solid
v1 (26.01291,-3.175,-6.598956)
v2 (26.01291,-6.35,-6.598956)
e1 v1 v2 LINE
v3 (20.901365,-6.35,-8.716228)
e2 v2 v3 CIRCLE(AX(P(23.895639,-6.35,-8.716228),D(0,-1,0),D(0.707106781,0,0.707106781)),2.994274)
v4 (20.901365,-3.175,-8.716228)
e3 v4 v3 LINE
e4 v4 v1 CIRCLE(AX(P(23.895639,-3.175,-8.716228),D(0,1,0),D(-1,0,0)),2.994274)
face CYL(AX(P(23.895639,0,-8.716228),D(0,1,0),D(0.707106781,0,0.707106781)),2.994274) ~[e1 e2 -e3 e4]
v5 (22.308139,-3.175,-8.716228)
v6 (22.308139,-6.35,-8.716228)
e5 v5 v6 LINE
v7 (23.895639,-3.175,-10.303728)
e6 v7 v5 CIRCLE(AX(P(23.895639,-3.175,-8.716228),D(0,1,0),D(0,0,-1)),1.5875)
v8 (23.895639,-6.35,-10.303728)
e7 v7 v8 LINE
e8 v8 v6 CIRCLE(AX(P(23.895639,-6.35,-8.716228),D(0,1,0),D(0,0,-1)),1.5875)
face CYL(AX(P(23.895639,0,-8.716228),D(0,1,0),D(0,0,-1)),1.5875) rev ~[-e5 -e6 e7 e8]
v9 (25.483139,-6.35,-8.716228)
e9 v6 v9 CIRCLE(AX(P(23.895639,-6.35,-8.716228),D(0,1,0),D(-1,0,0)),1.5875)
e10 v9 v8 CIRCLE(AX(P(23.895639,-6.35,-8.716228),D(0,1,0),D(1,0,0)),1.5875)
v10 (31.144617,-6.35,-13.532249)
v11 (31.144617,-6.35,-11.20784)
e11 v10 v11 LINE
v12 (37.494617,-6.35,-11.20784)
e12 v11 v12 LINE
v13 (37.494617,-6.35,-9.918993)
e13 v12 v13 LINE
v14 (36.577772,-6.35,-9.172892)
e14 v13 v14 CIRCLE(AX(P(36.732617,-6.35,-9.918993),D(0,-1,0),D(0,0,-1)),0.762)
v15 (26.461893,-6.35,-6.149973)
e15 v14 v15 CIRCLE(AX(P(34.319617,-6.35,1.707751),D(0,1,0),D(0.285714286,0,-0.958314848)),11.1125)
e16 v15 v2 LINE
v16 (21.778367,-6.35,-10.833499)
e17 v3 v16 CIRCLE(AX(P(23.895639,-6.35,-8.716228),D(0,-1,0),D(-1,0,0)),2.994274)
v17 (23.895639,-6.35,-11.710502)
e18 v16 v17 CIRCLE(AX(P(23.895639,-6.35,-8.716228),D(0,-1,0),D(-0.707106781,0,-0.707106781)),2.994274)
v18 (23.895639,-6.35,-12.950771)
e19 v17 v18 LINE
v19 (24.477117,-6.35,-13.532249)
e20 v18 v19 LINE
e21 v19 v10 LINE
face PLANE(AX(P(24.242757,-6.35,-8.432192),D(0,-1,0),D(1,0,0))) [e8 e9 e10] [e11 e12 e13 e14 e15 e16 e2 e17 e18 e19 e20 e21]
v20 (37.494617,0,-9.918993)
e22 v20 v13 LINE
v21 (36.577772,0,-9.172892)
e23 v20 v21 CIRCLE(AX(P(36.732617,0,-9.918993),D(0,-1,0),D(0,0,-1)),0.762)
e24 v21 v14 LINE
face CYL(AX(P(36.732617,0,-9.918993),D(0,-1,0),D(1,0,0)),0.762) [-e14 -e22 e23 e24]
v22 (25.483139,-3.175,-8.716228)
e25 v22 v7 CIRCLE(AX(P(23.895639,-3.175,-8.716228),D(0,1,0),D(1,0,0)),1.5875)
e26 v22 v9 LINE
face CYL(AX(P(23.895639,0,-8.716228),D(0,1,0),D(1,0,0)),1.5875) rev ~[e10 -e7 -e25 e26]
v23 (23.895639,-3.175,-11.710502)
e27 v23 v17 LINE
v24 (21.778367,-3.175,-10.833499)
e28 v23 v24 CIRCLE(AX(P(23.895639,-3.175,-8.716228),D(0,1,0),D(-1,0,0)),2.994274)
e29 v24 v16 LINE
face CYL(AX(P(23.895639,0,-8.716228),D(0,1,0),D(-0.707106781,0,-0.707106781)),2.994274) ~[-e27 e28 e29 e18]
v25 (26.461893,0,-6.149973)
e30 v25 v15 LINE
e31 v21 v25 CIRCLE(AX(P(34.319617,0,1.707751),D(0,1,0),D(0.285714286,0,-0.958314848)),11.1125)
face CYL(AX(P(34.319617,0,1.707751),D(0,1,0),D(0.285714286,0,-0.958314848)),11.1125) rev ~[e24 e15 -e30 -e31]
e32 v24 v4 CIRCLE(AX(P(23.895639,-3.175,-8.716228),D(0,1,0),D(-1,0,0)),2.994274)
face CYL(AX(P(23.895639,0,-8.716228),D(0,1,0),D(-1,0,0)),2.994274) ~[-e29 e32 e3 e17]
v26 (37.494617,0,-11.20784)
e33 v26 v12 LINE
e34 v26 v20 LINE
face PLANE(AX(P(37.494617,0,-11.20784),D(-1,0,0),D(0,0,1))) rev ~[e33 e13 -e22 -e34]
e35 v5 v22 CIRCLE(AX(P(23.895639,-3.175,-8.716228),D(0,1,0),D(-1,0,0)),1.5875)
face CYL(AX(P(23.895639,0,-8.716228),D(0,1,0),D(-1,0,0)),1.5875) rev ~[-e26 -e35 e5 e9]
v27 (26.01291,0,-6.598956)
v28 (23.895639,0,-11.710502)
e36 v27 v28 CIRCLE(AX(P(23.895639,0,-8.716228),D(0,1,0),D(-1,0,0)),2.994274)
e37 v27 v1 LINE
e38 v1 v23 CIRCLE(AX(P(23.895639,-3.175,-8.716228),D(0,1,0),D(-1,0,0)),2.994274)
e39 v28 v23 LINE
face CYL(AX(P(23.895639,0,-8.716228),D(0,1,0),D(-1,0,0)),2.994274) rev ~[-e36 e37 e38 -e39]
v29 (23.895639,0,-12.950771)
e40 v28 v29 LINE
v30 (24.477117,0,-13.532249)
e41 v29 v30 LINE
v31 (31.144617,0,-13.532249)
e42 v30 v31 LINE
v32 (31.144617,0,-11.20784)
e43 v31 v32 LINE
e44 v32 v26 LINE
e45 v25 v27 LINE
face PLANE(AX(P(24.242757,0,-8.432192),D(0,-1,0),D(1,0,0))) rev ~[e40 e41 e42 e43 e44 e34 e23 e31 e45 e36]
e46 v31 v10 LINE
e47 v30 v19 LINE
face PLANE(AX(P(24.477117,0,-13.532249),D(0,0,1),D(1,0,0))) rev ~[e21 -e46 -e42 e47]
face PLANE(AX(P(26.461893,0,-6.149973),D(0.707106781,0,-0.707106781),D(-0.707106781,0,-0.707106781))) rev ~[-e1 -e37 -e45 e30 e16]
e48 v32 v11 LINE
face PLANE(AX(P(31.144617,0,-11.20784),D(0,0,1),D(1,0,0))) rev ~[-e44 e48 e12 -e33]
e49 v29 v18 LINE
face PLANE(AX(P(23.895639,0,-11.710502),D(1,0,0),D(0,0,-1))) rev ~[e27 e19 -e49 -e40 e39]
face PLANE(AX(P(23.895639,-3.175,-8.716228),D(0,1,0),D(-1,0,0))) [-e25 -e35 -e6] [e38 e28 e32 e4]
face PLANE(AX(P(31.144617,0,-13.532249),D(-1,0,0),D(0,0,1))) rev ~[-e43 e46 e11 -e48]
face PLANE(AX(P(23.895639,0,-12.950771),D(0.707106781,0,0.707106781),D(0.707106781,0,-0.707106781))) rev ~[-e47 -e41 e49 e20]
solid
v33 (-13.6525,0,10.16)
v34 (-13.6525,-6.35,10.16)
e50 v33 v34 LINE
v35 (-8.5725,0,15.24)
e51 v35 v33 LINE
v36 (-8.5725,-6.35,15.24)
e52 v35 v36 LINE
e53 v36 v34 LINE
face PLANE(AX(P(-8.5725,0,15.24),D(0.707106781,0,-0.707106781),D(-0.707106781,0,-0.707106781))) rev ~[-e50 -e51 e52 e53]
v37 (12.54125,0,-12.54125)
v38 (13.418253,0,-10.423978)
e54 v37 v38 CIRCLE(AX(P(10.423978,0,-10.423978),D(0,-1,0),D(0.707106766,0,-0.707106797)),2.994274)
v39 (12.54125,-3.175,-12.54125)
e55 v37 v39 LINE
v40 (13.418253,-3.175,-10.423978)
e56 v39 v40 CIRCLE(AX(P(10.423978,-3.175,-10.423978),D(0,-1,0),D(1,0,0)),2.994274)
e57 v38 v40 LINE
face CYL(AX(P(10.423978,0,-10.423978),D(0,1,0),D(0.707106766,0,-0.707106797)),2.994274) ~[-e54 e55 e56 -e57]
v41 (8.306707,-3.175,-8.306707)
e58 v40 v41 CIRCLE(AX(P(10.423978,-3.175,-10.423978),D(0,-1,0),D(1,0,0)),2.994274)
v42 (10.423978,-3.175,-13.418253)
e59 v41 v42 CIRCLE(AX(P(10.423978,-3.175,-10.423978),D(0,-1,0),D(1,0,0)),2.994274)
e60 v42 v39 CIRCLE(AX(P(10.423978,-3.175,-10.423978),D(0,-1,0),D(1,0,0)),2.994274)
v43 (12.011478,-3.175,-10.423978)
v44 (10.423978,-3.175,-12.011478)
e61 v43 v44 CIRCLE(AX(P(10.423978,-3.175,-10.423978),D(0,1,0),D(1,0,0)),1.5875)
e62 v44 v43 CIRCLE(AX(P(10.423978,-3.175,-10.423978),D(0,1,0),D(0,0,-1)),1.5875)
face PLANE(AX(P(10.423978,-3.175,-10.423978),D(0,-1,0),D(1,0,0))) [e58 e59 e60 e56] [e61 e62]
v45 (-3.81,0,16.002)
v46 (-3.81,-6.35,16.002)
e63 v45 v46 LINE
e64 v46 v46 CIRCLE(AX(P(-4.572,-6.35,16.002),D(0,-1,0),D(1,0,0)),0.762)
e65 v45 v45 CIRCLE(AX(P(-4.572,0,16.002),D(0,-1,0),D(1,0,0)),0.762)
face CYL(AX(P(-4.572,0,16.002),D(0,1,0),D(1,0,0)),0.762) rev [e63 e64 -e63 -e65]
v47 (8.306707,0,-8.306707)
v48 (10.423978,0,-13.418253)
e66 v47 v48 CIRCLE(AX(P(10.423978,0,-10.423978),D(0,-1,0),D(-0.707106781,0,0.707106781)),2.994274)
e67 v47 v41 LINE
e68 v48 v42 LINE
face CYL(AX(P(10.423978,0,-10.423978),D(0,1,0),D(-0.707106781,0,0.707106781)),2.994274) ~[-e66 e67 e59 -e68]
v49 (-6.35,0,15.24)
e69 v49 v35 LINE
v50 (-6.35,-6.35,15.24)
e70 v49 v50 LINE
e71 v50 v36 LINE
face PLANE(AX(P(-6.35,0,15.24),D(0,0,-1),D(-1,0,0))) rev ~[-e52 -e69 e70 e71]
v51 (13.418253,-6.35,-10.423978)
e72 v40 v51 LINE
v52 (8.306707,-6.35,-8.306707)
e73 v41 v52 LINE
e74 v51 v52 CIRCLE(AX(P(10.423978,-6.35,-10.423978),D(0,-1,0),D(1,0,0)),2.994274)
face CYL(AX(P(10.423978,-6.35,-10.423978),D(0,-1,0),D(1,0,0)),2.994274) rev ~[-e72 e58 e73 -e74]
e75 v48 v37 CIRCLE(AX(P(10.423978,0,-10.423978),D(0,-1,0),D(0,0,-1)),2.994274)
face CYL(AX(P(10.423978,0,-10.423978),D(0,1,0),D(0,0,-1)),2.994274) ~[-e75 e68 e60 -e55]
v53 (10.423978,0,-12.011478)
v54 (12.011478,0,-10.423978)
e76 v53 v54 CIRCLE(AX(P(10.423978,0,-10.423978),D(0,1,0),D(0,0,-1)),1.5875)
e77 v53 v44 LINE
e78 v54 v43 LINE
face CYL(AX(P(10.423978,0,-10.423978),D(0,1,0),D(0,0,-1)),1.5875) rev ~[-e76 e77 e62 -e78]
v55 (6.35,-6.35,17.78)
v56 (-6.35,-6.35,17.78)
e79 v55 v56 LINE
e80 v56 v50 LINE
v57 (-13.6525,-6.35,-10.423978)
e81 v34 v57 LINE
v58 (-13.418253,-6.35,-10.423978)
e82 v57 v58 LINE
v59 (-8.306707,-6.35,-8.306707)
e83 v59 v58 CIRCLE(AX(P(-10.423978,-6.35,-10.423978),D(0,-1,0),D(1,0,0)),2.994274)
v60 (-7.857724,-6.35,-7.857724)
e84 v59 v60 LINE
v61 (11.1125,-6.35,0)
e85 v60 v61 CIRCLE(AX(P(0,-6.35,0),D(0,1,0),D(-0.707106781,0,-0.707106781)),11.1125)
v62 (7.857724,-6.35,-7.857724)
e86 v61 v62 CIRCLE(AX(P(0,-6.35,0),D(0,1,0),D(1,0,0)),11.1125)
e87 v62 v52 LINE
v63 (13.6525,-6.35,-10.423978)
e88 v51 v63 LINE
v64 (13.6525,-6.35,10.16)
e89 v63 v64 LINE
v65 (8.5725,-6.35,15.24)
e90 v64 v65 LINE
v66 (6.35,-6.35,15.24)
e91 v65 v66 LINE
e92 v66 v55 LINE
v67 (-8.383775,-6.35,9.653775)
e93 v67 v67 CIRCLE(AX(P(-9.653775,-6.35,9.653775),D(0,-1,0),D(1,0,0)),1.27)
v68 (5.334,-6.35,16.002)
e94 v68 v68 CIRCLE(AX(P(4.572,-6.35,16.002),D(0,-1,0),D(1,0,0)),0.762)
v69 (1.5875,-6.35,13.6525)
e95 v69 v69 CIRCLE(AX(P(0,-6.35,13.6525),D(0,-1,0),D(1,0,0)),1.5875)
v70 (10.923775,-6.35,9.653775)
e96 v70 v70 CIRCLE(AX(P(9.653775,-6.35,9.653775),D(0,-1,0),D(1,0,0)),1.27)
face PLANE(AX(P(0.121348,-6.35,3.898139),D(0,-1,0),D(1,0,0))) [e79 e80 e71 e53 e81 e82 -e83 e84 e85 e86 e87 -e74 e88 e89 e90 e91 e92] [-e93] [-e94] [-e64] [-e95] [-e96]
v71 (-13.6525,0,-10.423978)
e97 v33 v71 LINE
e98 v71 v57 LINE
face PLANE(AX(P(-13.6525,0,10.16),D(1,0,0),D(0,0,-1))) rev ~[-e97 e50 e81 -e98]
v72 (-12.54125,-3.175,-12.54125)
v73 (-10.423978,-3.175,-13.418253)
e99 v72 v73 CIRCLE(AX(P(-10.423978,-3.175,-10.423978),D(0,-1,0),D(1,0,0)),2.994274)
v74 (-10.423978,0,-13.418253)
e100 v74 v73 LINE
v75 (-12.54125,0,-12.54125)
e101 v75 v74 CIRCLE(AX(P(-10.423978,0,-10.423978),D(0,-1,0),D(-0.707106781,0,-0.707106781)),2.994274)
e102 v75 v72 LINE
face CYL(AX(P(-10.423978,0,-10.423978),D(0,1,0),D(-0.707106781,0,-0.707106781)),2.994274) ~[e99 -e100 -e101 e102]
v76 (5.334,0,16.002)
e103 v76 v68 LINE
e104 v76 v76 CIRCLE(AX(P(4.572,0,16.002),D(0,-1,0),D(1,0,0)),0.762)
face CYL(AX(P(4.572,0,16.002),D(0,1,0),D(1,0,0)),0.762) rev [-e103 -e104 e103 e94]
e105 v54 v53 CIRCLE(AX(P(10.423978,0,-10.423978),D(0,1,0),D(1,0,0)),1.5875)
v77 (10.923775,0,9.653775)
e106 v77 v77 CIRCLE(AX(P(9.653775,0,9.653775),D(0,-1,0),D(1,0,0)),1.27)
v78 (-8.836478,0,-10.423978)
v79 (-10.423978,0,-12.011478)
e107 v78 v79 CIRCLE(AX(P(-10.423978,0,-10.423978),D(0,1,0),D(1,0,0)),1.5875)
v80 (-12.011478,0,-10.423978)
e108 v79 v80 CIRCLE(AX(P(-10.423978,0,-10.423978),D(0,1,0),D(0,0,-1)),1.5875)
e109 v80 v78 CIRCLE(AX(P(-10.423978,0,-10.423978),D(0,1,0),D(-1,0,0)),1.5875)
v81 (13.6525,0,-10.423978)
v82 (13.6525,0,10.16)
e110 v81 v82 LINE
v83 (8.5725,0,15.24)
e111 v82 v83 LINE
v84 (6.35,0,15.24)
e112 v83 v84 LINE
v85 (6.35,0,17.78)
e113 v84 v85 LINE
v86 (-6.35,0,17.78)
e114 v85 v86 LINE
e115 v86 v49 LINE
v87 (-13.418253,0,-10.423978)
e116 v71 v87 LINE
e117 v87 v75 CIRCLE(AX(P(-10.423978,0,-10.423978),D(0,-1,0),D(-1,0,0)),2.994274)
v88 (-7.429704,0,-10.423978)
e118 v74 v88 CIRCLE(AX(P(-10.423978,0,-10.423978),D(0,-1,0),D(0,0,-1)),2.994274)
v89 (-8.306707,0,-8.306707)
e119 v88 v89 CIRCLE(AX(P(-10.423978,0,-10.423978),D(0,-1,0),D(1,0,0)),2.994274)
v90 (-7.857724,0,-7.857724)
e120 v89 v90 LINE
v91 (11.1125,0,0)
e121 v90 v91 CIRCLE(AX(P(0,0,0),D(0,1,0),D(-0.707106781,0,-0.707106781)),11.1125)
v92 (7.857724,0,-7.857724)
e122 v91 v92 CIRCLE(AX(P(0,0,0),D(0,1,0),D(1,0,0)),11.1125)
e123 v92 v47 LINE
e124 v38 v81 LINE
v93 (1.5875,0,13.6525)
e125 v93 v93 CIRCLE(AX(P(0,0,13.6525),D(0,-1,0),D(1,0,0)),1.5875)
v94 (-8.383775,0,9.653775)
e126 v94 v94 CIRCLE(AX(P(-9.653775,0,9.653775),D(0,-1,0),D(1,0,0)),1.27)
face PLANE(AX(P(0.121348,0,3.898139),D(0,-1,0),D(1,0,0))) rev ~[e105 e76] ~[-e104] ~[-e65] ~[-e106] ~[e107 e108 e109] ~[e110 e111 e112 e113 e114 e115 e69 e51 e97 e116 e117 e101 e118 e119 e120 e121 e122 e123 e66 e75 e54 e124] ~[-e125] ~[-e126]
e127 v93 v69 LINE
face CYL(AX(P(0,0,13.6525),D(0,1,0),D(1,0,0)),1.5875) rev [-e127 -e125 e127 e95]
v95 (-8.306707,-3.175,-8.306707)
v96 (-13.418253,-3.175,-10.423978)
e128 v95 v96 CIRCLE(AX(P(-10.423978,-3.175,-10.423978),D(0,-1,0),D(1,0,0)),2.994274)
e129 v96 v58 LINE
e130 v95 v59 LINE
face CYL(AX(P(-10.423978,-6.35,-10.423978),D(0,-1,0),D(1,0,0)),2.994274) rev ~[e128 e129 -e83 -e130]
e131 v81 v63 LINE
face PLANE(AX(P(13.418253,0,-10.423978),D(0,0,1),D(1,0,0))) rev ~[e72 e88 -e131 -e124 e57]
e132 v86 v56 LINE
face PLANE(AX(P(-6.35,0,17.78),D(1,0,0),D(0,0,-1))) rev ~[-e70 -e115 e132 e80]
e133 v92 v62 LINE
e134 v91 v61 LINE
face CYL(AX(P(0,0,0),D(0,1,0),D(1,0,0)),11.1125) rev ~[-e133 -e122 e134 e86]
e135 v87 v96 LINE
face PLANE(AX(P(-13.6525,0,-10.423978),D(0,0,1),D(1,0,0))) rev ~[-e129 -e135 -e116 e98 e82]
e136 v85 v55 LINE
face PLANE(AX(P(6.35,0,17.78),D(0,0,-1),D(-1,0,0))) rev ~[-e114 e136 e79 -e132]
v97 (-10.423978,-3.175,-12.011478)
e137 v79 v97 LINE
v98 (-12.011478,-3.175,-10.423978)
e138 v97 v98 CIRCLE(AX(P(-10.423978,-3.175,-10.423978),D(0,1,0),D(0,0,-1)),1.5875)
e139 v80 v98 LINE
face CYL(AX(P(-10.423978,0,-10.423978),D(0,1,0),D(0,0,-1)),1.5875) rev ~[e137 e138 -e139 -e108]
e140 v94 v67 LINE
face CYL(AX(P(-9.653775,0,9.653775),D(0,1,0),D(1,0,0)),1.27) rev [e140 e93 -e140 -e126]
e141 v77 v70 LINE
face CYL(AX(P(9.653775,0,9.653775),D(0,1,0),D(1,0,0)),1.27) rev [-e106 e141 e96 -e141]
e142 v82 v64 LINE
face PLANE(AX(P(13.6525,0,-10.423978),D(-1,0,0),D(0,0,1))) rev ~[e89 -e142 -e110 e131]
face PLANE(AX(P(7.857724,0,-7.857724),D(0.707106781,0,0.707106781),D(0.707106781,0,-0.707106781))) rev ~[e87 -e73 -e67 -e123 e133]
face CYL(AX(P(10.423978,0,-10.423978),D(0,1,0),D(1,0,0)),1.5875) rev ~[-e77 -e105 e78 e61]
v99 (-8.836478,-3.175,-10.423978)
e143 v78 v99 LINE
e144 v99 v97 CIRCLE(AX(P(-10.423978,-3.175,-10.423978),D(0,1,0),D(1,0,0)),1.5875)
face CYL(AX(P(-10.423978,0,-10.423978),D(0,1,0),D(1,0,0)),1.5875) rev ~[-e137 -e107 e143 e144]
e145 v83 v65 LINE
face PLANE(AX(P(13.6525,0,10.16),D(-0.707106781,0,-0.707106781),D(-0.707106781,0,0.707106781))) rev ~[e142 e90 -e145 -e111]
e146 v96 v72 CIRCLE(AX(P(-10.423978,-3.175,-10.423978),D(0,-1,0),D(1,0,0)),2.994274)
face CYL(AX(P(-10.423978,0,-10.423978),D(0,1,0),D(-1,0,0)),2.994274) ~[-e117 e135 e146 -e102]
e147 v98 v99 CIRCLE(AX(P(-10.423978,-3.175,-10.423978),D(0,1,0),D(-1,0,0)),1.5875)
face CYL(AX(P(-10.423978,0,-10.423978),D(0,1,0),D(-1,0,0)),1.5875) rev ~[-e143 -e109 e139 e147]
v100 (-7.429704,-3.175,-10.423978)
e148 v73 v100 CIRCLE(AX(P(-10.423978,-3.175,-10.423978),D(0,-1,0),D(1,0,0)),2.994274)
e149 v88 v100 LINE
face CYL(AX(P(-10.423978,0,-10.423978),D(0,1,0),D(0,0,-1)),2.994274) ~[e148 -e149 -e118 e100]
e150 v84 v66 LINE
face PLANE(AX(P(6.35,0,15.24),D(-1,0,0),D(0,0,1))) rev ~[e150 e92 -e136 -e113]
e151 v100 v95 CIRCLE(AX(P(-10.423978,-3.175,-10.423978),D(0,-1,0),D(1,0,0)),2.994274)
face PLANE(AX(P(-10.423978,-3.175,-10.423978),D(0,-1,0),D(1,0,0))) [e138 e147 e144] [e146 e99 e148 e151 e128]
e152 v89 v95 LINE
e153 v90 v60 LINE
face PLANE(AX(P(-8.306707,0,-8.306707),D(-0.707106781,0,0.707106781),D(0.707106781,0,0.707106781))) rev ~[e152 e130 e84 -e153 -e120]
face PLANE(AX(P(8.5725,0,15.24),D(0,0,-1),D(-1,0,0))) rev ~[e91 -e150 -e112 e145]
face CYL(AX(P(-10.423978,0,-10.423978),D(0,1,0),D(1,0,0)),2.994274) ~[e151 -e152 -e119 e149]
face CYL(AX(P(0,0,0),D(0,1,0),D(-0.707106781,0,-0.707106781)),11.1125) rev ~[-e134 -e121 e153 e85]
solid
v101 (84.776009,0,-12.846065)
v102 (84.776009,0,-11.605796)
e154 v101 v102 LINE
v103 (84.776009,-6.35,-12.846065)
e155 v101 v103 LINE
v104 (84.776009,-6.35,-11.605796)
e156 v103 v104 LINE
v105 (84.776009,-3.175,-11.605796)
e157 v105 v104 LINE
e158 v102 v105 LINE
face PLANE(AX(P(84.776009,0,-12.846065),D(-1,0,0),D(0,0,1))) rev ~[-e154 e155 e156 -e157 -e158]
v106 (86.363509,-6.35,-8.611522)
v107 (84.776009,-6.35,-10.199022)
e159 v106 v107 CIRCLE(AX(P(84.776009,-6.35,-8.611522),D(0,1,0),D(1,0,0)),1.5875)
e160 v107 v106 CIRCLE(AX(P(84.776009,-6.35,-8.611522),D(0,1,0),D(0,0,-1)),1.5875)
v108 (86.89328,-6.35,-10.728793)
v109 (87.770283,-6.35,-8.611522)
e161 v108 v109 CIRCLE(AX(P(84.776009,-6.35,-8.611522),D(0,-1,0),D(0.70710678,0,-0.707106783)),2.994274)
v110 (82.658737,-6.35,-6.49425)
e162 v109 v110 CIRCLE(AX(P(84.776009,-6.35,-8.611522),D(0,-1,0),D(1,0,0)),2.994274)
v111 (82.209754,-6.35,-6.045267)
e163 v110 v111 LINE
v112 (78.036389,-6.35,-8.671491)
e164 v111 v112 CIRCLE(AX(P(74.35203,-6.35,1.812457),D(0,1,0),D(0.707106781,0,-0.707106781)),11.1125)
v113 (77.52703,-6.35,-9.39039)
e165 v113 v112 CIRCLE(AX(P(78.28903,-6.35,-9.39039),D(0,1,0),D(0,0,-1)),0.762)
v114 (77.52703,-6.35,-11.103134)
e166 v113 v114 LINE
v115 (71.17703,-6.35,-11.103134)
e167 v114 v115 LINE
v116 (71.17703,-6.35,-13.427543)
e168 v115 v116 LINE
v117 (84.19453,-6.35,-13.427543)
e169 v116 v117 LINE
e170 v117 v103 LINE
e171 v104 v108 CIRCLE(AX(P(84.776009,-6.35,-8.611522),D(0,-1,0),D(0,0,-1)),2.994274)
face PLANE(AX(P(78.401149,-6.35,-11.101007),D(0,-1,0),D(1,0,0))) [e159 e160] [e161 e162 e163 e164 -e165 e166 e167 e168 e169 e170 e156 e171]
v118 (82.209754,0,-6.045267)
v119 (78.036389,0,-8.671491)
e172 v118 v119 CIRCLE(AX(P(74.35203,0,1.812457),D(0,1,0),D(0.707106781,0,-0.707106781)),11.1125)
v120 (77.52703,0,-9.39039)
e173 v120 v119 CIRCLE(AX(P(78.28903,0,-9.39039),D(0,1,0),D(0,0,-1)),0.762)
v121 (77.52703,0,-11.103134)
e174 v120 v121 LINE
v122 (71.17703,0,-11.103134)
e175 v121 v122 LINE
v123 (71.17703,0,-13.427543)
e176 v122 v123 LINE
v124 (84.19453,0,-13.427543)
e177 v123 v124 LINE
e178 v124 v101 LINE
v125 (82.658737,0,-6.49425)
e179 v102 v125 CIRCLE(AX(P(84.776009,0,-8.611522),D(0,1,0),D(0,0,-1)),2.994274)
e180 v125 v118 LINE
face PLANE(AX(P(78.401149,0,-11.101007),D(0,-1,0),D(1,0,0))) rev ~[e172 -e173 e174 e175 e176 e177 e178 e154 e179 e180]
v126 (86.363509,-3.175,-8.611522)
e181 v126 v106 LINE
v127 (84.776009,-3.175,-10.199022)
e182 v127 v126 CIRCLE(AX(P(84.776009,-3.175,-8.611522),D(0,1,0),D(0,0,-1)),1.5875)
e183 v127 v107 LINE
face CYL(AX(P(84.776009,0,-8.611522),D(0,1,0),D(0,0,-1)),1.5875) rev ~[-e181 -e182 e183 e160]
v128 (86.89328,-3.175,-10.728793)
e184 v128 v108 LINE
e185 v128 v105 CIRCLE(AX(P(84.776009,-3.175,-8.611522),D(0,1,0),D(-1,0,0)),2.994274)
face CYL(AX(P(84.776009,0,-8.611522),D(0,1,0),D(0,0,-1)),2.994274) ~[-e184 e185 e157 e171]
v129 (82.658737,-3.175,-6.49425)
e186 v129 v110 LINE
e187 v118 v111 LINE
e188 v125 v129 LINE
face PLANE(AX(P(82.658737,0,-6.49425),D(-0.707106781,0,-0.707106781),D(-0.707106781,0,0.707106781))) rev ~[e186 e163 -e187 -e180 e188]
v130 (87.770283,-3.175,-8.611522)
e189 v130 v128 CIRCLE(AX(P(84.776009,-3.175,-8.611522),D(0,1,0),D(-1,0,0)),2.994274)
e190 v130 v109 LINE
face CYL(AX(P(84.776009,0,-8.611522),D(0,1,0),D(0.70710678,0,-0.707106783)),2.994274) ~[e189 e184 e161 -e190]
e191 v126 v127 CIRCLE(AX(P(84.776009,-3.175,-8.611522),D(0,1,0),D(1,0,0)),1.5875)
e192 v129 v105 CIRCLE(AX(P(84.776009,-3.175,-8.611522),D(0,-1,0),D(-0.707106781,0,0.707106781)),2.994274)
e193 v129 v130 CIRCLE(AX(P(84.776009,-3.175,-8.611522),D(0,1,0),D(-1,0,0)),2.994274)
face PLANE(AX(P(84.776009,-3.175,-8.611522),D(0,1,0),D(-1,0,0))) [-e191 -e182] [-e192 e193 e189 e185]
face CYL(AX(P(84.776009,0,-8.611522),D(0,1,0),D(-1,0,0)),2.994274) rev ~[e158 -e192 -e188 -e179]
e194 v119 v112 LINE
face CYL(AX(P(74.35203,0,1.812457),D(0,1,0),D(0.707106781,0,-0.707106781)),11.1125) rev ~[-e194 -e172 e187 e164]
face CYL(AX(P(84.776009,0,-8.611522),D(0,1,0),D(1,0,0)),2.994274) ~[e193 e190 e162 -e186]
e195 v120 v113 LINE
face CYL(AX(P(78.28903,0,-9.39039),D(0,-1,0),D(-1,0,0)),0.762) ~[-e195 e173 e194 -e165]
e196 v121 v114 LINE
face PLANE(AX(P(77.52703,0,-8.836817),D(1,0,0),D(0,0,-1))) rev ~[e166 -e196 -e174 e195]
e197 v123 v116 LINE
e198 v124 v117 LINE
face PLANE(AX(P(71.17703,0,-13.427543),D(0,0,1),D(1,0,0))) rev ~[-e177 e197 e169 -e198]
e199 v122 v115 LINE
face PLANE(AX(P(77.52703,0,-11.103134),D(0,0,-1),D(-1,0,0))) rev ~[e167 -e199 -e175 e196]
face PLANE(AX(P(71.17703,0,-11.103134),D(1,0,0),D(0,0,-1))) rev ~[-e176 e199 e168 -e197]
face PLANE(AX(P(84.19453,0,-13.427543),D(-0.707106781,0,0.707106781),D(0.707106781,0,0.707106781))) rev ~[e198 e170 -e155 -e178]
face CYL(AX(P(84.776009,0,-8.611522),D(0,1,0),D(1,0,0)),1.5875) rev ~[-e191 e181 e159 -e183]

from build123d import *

# Parameters (mm, degrees)
F0_R      = 1.27
F0_R_2    = 0.762
F0_R_3    = 1.5875
F1_DEPTH  = 6.35
F2_R      = 2.9942741012
F3_DEPTH  = 3.175
F5_DEPTH  = 6.35
F7_DEPTH  = 6.35
F8_R      = 2.9942741012
F9_DEPTH  = 3.175
F10_R     = 2.9942741012
F11_DEPTH = 3.175
F12_R     = 0.762
F13_R     = 0.762


with BuildPart() as f1:
    # F0 (on Front) → F1 (new body)
    with BuildSketch(Plane.XZ):
        with BuildLine():
            ThreePointArc((-7.8577241059, -7.8577241059), (-4.2525696422, 10.266611305), (11.1125, 0))
            ThreePointArc((11.1125, 0), (10.266611305, -4.2525696422), (7.8577241059, -7.8577241059))
            Line((7.8577241059, -7.8577241059), (8.3067069566, -8.3067069566))
            ThreePointArc((8.3067069566, -8.3067069566), (11.5698375688, -7.6576299215), (13.4182525795, -10.4239784783))
            Line((13.4182525795, -10.4239784783), (13.6525, -10.4239784783))
            Line((13.6525, -10.4239784783), (13.6525, 10.16))
            Line((13.6525, 10.16), (8.5725, 15.24))
            Line((8.5725, 15.24), (6.35, 15.24))
            Line((6.35, 15.24), (6.35, 17.78))
            Line((6.35, 17.78), (-6.35, 17.78))
            Line((-6.35, 17.78), (-6.35, 15.24))
            Line((-6.35, 15.24), (-8.5725, 15.24))
            Line((-8.5725, 15.24), (-13.6525, 10.16))
            Line((-13.6525, 10.16), (-13.6525, -10.4239784783))
            Line((-13.6525, -10.4239784783), (-13.4182525795, -10.4239784783))
            ThreePointArc((-13.4182525795, -10.4239784783), (-11.5698375688, -7.6576299215), (-8.3067069566, -8.3067069566))
            Line((-8.3067069566, -8.3067069566), (-7.8577241059, -7.8577241059))
        make_face()
        with Locations((-9.6537753301, 9.6537753301)):
            Circle(F0_R, mode=Mode.SUBTRACT)
        with Locations((-4.572, 16.002)):
            Circle(F0_R_2, mode=Mode.SUBTRACT)
        with Locations((0, 13.6525)):
            Circle(F0_R_3, mode=Mode.SUBTRACT)
        with Locations((4.572, 16.002)):
            Circle(F0_R_2, mode=Mode.SUBTRACT)
        with Locations((9.6537753301, 9.6537753301)):
            Circle(F0_R, mode=Mode.SUBTRACT)
        with BuildLine():
            Line((-12.0114784783, -10.4239784783), (-13.4182525795, -10.4239784783))
            ThreePointArc((-13.4182525795, -10.4239784783), (-13.1903270351, -11.5698375688), (-12.54125, -12.54125))
            ThreePointArc((-12.54125, -12.54125), (-11.5698375688, -13.1903270351), (-10.4239784783, -13.4182525795))
            Line((-10.4239784783, -13.4182525795), (-10.4239784783, -12.0114784783))
            ThreePointArc((-10.4239784783, -12.0114784783), (-11.5465104934, -11.5465104934), (-12.0114784783, -10.4239784783))
        make_face()
        with BuildLine():
            ThreePointArc((-7.4297043771, -10.4239784783), (-7.6576299215, -9.2781193878), (-8.3067069566, -8.3067069566))
            ThreePointArc((-8.3067069566, -8.3067069566), (-11.5698375688, -7.6576299215), (-13.4182525795, -10.4239784783))
            Line((-13.4182525795, -10.4239784783), (-12.0114784783, -10.4239784783))
            ThreePointArc((-12.0114784783, -10.4239784783), (-10.4239784783, -8.8364784783), (-8.8364784783, -10.4239784783))
            ThreePointArc((-8.8364784783, -10.4239784783), (-9.3014464632, -11.5465104934), (-10.4239784783, -12.0114784783))
            Line((-10.4239784783, -12.0114784783), (-10.4239784783, -13.4182525795))
            ThreePointArc((-10.4239784783, -13.4182525795), (-8.3067069566, -12.54125), (-7.4297043771, -10.4239784783))
        make_face()
        with BuildLine():
            ThreePointArc((13.4182525795, -10.4239784783), (11.5698375688, -7.6576299215), (8.3067069566, -8.3067069566))
            ThreePointArc((8.3067069566, -8.3067069566), (7.6576299215, -11.5698375688), (10.4239784783, -13.4182525795))
            Line((10.4239784783, -13.4182525795), (10.4239784783, -12.0114784783))
            ThreePointArc((10.4239784783, -12.0114784783), (9.3014464632, -9.3014464632), (12.0114784783, -10.4239784783))
            Line((12.0114784783, -10.4239784783), (13.4182525795, -10.4239784783))
        make_face()
        with BuildLine():
            ThreePointArc((12.5412499532, -12.5412500468), (13.1903270225, -11.5698375994), (13.4182525795, -10.4239784783))
            Line((13.4182525795, -10.4239784783), (12.0114784783, -10.4239784783))
            ThreePointArc((12.0114784783, -10.4239784783), (11.5465104934, -11.5465104934), (10.4239784783, -12.0114784783))
            Line((10.4239784783, -12.0114784783), (10.4239784783, -13.4182525795))
            ThreePointArc((10.4239784783, -13.4182525795), (11.5698375382, -13.1903270478), (12.5412499532, -12.5412500468))
        make_face()
    extrude(amount=F1_DEPTH)

    # F2 (on face) → F3 (cut)
    with BuildSketch(Plane.XZ.offset(6.35)):
        with Locations((-10.4239784783, -10.4239784783)):
            Circle(F2_R)
        with Locations((10.4239784783, -10.4239784783)):
            Circle(F2_R)
    extrude(amount=-F3_DEPTH, mode=Mode.SUBTRACT)


with BuildPart() as f5:
    # F4 (on Front) → F5 (new body)
    with BuildSketch(Plane.XZ):
        with BuildLine():
            ThreePointArc((26.8899129888, -8.7162277541), (26.6619874445, -7.5703686636), (26.0129104093, -6.5989562324))
            ThreePointArc((26.0129104093, -6.5989562324), (22.7497797971, -5.9498791973), (20.9013647864, -8.7162277541))
            Line((20.9013647864, -8.7162277541), (22.3081388876, -8.7162277541))
            ThreePointArc((22.3081388876, -8.7162277541), (23.8956388876, -7.1287277541), (25.4831388876, -8.7162277541))
            ThreePointArc((25.4831388876, -8.7162277541), (25.0181709028, -9.8387597693), (23.8956388876, -10.3037277541))
            Line((23.8956388876, -10.3037277541), (23.8956388876, -11.7105018553))
            ThreePointArc((23.8956388876, -11.7105018553), (26.0129104093, -10.8334992758), (26.8899129888, -8.7162277541))
        make_face()
        with BuildLine():
            Line((22.3081388876, -8.7162277541), (20.9013647864, -8.7162277541))
            ThreePointArc((20.9013647864, -8.7162277541), (21.1292903308, -9.8620868446), (21.7783673659, -10.8334992758))
            ThreePointArc((21.7783673659, -10.8334992758), (22.7497797971, -11.482576311), (23.8956388876, -11.7105018553))
            Line((23.8956388876, -11.7105018553), (23.8956388876, -10.3037277541))
            ThreePointArc((23.8956388876, -10.3037277541), (22.7731068725, -9.8387597693), (22.3081388876, -8.7162277541))
        make_face()
        with BuildLine():
            ThreePointArc((37.4946173659, -8.9415230187), (31.5937847212, -9.0652475884), (26.46189326, -6.1499733817))
            Line((26.46189326, -6.1499733817), (26.0129104093, -6.5989562324))
            ThreePointArc((26.0129104093, -6.5989562324), (26.6619874445, -7.5703686636), (26.8899129888, -8.7162277541))
            ThreePointArc((26.8899129888, -8.7162277541), (26.0129104093, -10.8334992758), (23.8956388876, -11.7105018553))
            Line((23.8956388876, -11.7105018553), (23.8956388876, -12.9507707975))
            Line((23.8956388876, -12.9507707975), (24.4771173659, -13.5322492758))
            Line((24.4771173659, -13.5322492758), (31.1446173659, -13.5322492758))
            Line((31.1446173659, -13.5322492758), (31.1446173659, -11.2078400538))
            Line((31.1446173659, -11.2078400538), (37.4946173659, -11.2078400538))
            Line((37.4946173659, -11.2078400538), (37.4946173659, -8.9415230187))
        make_face()
    extrude(amount=F5_DEPTH)

    # F8 (on face) → F9 (cut)
    with BuildSketch(Plane(origin=(0, 0, 0), x_dir=(-1, 0, 0), z_dir=(0, 1, 0))):
        with Locations((-23.8956388876, -8.7162277541)):
            Circle(F8_R)
    extrude(amount=-F9_DEPTH, mode=Mode.SUBTRACT)

    # F12
    f12_edges = [f5.edges().sort_by_distance(p)[0] for p in [
        (37.494617, -3.175, -8.941523),
    ]]
    fillet(f12_edges, radius=F12_R)


with BuildPart() as f7:
    # F6 (on Front) → F7 (new body)
    with BuildSketch(Plane.XZ):
        with BuildLine():
            Line((82.6587371794, -6.4942501965), (82.2097543287, -6.0452673458))
            ThreePointArc((82.2097543287, -6.0452673458), (80.0422356359, -7.7326581479), (77.5270302228, -8.8368169827))
            Line((77.5270302228, -8.8368169827), (77.5270302228, -11.1031340179))
            Line((77.5270302228, -11.1031340179), (71.1770302228, -11.1031340179))
            Line((71.1770302228, -11.1031340179), (71.1770302228, -13.4275432399))
            Line((71.1770302228, -13.4275432399), (84.1945302228, -13.4275432399))
            Line((84.1945302228, -13.4275432399), (84.7760087011, -12.8460647616))
            Line((84.7760087011, -12.8460647616), (84.7760087011, -11.6057958194))
            ThreePointArc((84.7760087011, -11.6057958194), (82.0096601442, -9.7573808087), (82.6587371794, -6.4942501965))
        make_face()
        with BuildLine():
            ThreePointArc((87.7702828023, -8.6115217182), (85.9218677916, -5.8451731614), (82.6587371794, -6.4942501965))
            ThreePointArc((82.6587371794, -6.4942501965), (82.0096601442, -9.7573808087), (84.7760087011, -11.6057958194))
            Line((84.7760087011, -11.6057958194), (84.7760087011, -10.1990217182))
            ThreePointArc((84.7760087011, -10.1990217182), (83.6534766859, -7.4889897031), (86.3635087011, -8.6115217182))
            Line((86.3635087011, -8.6115217182), (87.7702828023, -8.6115217182))
        make_face()
        with BuildLine():
            ThreePointArc((86.8932802188, -10.7287932438), (87.5423572568, -9.7573808113), (87.7702828023, -8.6115217182))
            Line((87.7702828023, -8.6115217182), (86.3635087011, -8.6115217182))
            ThreePointArc((86.3635087011, -8.6115217182), (85.8985407162, -9.7340537333), (84.7760087011, -10.1990217182))
            Line((84.7760087011, -10.1990217182), (84.7760087011, -11.6057958194))
            ThreePointArc((84.7760087011, -11.6057958194), (85.921867789, -11.3778702761), (86.8932802188, -10.7287932438))
        make_face()
    extrude(amount=F7_DEPTH)

    # F10 (on face) → F11 (cut)
    with BuildSketch(Plane(origin=(0, 0, 0), x_dir=(-1, 0, 0), z_dir=(0, 1, 0))):
        with Locations((-84.7760087011, -8.6115217182)):
            Circle(F10_R)
    extrude(amount=-F11_DEPTH, mode=Mode.SUBTRACT)

    # F13
    f13_edges = [f7.edges().sort_by_distance(p)[0] for p in [
        (77.52703, -3.175, -8.836817),
    ]]
    fillet(f13_edges, radius=F13_R)


solid = Compound([f1.part, f5.part, f7.part])
